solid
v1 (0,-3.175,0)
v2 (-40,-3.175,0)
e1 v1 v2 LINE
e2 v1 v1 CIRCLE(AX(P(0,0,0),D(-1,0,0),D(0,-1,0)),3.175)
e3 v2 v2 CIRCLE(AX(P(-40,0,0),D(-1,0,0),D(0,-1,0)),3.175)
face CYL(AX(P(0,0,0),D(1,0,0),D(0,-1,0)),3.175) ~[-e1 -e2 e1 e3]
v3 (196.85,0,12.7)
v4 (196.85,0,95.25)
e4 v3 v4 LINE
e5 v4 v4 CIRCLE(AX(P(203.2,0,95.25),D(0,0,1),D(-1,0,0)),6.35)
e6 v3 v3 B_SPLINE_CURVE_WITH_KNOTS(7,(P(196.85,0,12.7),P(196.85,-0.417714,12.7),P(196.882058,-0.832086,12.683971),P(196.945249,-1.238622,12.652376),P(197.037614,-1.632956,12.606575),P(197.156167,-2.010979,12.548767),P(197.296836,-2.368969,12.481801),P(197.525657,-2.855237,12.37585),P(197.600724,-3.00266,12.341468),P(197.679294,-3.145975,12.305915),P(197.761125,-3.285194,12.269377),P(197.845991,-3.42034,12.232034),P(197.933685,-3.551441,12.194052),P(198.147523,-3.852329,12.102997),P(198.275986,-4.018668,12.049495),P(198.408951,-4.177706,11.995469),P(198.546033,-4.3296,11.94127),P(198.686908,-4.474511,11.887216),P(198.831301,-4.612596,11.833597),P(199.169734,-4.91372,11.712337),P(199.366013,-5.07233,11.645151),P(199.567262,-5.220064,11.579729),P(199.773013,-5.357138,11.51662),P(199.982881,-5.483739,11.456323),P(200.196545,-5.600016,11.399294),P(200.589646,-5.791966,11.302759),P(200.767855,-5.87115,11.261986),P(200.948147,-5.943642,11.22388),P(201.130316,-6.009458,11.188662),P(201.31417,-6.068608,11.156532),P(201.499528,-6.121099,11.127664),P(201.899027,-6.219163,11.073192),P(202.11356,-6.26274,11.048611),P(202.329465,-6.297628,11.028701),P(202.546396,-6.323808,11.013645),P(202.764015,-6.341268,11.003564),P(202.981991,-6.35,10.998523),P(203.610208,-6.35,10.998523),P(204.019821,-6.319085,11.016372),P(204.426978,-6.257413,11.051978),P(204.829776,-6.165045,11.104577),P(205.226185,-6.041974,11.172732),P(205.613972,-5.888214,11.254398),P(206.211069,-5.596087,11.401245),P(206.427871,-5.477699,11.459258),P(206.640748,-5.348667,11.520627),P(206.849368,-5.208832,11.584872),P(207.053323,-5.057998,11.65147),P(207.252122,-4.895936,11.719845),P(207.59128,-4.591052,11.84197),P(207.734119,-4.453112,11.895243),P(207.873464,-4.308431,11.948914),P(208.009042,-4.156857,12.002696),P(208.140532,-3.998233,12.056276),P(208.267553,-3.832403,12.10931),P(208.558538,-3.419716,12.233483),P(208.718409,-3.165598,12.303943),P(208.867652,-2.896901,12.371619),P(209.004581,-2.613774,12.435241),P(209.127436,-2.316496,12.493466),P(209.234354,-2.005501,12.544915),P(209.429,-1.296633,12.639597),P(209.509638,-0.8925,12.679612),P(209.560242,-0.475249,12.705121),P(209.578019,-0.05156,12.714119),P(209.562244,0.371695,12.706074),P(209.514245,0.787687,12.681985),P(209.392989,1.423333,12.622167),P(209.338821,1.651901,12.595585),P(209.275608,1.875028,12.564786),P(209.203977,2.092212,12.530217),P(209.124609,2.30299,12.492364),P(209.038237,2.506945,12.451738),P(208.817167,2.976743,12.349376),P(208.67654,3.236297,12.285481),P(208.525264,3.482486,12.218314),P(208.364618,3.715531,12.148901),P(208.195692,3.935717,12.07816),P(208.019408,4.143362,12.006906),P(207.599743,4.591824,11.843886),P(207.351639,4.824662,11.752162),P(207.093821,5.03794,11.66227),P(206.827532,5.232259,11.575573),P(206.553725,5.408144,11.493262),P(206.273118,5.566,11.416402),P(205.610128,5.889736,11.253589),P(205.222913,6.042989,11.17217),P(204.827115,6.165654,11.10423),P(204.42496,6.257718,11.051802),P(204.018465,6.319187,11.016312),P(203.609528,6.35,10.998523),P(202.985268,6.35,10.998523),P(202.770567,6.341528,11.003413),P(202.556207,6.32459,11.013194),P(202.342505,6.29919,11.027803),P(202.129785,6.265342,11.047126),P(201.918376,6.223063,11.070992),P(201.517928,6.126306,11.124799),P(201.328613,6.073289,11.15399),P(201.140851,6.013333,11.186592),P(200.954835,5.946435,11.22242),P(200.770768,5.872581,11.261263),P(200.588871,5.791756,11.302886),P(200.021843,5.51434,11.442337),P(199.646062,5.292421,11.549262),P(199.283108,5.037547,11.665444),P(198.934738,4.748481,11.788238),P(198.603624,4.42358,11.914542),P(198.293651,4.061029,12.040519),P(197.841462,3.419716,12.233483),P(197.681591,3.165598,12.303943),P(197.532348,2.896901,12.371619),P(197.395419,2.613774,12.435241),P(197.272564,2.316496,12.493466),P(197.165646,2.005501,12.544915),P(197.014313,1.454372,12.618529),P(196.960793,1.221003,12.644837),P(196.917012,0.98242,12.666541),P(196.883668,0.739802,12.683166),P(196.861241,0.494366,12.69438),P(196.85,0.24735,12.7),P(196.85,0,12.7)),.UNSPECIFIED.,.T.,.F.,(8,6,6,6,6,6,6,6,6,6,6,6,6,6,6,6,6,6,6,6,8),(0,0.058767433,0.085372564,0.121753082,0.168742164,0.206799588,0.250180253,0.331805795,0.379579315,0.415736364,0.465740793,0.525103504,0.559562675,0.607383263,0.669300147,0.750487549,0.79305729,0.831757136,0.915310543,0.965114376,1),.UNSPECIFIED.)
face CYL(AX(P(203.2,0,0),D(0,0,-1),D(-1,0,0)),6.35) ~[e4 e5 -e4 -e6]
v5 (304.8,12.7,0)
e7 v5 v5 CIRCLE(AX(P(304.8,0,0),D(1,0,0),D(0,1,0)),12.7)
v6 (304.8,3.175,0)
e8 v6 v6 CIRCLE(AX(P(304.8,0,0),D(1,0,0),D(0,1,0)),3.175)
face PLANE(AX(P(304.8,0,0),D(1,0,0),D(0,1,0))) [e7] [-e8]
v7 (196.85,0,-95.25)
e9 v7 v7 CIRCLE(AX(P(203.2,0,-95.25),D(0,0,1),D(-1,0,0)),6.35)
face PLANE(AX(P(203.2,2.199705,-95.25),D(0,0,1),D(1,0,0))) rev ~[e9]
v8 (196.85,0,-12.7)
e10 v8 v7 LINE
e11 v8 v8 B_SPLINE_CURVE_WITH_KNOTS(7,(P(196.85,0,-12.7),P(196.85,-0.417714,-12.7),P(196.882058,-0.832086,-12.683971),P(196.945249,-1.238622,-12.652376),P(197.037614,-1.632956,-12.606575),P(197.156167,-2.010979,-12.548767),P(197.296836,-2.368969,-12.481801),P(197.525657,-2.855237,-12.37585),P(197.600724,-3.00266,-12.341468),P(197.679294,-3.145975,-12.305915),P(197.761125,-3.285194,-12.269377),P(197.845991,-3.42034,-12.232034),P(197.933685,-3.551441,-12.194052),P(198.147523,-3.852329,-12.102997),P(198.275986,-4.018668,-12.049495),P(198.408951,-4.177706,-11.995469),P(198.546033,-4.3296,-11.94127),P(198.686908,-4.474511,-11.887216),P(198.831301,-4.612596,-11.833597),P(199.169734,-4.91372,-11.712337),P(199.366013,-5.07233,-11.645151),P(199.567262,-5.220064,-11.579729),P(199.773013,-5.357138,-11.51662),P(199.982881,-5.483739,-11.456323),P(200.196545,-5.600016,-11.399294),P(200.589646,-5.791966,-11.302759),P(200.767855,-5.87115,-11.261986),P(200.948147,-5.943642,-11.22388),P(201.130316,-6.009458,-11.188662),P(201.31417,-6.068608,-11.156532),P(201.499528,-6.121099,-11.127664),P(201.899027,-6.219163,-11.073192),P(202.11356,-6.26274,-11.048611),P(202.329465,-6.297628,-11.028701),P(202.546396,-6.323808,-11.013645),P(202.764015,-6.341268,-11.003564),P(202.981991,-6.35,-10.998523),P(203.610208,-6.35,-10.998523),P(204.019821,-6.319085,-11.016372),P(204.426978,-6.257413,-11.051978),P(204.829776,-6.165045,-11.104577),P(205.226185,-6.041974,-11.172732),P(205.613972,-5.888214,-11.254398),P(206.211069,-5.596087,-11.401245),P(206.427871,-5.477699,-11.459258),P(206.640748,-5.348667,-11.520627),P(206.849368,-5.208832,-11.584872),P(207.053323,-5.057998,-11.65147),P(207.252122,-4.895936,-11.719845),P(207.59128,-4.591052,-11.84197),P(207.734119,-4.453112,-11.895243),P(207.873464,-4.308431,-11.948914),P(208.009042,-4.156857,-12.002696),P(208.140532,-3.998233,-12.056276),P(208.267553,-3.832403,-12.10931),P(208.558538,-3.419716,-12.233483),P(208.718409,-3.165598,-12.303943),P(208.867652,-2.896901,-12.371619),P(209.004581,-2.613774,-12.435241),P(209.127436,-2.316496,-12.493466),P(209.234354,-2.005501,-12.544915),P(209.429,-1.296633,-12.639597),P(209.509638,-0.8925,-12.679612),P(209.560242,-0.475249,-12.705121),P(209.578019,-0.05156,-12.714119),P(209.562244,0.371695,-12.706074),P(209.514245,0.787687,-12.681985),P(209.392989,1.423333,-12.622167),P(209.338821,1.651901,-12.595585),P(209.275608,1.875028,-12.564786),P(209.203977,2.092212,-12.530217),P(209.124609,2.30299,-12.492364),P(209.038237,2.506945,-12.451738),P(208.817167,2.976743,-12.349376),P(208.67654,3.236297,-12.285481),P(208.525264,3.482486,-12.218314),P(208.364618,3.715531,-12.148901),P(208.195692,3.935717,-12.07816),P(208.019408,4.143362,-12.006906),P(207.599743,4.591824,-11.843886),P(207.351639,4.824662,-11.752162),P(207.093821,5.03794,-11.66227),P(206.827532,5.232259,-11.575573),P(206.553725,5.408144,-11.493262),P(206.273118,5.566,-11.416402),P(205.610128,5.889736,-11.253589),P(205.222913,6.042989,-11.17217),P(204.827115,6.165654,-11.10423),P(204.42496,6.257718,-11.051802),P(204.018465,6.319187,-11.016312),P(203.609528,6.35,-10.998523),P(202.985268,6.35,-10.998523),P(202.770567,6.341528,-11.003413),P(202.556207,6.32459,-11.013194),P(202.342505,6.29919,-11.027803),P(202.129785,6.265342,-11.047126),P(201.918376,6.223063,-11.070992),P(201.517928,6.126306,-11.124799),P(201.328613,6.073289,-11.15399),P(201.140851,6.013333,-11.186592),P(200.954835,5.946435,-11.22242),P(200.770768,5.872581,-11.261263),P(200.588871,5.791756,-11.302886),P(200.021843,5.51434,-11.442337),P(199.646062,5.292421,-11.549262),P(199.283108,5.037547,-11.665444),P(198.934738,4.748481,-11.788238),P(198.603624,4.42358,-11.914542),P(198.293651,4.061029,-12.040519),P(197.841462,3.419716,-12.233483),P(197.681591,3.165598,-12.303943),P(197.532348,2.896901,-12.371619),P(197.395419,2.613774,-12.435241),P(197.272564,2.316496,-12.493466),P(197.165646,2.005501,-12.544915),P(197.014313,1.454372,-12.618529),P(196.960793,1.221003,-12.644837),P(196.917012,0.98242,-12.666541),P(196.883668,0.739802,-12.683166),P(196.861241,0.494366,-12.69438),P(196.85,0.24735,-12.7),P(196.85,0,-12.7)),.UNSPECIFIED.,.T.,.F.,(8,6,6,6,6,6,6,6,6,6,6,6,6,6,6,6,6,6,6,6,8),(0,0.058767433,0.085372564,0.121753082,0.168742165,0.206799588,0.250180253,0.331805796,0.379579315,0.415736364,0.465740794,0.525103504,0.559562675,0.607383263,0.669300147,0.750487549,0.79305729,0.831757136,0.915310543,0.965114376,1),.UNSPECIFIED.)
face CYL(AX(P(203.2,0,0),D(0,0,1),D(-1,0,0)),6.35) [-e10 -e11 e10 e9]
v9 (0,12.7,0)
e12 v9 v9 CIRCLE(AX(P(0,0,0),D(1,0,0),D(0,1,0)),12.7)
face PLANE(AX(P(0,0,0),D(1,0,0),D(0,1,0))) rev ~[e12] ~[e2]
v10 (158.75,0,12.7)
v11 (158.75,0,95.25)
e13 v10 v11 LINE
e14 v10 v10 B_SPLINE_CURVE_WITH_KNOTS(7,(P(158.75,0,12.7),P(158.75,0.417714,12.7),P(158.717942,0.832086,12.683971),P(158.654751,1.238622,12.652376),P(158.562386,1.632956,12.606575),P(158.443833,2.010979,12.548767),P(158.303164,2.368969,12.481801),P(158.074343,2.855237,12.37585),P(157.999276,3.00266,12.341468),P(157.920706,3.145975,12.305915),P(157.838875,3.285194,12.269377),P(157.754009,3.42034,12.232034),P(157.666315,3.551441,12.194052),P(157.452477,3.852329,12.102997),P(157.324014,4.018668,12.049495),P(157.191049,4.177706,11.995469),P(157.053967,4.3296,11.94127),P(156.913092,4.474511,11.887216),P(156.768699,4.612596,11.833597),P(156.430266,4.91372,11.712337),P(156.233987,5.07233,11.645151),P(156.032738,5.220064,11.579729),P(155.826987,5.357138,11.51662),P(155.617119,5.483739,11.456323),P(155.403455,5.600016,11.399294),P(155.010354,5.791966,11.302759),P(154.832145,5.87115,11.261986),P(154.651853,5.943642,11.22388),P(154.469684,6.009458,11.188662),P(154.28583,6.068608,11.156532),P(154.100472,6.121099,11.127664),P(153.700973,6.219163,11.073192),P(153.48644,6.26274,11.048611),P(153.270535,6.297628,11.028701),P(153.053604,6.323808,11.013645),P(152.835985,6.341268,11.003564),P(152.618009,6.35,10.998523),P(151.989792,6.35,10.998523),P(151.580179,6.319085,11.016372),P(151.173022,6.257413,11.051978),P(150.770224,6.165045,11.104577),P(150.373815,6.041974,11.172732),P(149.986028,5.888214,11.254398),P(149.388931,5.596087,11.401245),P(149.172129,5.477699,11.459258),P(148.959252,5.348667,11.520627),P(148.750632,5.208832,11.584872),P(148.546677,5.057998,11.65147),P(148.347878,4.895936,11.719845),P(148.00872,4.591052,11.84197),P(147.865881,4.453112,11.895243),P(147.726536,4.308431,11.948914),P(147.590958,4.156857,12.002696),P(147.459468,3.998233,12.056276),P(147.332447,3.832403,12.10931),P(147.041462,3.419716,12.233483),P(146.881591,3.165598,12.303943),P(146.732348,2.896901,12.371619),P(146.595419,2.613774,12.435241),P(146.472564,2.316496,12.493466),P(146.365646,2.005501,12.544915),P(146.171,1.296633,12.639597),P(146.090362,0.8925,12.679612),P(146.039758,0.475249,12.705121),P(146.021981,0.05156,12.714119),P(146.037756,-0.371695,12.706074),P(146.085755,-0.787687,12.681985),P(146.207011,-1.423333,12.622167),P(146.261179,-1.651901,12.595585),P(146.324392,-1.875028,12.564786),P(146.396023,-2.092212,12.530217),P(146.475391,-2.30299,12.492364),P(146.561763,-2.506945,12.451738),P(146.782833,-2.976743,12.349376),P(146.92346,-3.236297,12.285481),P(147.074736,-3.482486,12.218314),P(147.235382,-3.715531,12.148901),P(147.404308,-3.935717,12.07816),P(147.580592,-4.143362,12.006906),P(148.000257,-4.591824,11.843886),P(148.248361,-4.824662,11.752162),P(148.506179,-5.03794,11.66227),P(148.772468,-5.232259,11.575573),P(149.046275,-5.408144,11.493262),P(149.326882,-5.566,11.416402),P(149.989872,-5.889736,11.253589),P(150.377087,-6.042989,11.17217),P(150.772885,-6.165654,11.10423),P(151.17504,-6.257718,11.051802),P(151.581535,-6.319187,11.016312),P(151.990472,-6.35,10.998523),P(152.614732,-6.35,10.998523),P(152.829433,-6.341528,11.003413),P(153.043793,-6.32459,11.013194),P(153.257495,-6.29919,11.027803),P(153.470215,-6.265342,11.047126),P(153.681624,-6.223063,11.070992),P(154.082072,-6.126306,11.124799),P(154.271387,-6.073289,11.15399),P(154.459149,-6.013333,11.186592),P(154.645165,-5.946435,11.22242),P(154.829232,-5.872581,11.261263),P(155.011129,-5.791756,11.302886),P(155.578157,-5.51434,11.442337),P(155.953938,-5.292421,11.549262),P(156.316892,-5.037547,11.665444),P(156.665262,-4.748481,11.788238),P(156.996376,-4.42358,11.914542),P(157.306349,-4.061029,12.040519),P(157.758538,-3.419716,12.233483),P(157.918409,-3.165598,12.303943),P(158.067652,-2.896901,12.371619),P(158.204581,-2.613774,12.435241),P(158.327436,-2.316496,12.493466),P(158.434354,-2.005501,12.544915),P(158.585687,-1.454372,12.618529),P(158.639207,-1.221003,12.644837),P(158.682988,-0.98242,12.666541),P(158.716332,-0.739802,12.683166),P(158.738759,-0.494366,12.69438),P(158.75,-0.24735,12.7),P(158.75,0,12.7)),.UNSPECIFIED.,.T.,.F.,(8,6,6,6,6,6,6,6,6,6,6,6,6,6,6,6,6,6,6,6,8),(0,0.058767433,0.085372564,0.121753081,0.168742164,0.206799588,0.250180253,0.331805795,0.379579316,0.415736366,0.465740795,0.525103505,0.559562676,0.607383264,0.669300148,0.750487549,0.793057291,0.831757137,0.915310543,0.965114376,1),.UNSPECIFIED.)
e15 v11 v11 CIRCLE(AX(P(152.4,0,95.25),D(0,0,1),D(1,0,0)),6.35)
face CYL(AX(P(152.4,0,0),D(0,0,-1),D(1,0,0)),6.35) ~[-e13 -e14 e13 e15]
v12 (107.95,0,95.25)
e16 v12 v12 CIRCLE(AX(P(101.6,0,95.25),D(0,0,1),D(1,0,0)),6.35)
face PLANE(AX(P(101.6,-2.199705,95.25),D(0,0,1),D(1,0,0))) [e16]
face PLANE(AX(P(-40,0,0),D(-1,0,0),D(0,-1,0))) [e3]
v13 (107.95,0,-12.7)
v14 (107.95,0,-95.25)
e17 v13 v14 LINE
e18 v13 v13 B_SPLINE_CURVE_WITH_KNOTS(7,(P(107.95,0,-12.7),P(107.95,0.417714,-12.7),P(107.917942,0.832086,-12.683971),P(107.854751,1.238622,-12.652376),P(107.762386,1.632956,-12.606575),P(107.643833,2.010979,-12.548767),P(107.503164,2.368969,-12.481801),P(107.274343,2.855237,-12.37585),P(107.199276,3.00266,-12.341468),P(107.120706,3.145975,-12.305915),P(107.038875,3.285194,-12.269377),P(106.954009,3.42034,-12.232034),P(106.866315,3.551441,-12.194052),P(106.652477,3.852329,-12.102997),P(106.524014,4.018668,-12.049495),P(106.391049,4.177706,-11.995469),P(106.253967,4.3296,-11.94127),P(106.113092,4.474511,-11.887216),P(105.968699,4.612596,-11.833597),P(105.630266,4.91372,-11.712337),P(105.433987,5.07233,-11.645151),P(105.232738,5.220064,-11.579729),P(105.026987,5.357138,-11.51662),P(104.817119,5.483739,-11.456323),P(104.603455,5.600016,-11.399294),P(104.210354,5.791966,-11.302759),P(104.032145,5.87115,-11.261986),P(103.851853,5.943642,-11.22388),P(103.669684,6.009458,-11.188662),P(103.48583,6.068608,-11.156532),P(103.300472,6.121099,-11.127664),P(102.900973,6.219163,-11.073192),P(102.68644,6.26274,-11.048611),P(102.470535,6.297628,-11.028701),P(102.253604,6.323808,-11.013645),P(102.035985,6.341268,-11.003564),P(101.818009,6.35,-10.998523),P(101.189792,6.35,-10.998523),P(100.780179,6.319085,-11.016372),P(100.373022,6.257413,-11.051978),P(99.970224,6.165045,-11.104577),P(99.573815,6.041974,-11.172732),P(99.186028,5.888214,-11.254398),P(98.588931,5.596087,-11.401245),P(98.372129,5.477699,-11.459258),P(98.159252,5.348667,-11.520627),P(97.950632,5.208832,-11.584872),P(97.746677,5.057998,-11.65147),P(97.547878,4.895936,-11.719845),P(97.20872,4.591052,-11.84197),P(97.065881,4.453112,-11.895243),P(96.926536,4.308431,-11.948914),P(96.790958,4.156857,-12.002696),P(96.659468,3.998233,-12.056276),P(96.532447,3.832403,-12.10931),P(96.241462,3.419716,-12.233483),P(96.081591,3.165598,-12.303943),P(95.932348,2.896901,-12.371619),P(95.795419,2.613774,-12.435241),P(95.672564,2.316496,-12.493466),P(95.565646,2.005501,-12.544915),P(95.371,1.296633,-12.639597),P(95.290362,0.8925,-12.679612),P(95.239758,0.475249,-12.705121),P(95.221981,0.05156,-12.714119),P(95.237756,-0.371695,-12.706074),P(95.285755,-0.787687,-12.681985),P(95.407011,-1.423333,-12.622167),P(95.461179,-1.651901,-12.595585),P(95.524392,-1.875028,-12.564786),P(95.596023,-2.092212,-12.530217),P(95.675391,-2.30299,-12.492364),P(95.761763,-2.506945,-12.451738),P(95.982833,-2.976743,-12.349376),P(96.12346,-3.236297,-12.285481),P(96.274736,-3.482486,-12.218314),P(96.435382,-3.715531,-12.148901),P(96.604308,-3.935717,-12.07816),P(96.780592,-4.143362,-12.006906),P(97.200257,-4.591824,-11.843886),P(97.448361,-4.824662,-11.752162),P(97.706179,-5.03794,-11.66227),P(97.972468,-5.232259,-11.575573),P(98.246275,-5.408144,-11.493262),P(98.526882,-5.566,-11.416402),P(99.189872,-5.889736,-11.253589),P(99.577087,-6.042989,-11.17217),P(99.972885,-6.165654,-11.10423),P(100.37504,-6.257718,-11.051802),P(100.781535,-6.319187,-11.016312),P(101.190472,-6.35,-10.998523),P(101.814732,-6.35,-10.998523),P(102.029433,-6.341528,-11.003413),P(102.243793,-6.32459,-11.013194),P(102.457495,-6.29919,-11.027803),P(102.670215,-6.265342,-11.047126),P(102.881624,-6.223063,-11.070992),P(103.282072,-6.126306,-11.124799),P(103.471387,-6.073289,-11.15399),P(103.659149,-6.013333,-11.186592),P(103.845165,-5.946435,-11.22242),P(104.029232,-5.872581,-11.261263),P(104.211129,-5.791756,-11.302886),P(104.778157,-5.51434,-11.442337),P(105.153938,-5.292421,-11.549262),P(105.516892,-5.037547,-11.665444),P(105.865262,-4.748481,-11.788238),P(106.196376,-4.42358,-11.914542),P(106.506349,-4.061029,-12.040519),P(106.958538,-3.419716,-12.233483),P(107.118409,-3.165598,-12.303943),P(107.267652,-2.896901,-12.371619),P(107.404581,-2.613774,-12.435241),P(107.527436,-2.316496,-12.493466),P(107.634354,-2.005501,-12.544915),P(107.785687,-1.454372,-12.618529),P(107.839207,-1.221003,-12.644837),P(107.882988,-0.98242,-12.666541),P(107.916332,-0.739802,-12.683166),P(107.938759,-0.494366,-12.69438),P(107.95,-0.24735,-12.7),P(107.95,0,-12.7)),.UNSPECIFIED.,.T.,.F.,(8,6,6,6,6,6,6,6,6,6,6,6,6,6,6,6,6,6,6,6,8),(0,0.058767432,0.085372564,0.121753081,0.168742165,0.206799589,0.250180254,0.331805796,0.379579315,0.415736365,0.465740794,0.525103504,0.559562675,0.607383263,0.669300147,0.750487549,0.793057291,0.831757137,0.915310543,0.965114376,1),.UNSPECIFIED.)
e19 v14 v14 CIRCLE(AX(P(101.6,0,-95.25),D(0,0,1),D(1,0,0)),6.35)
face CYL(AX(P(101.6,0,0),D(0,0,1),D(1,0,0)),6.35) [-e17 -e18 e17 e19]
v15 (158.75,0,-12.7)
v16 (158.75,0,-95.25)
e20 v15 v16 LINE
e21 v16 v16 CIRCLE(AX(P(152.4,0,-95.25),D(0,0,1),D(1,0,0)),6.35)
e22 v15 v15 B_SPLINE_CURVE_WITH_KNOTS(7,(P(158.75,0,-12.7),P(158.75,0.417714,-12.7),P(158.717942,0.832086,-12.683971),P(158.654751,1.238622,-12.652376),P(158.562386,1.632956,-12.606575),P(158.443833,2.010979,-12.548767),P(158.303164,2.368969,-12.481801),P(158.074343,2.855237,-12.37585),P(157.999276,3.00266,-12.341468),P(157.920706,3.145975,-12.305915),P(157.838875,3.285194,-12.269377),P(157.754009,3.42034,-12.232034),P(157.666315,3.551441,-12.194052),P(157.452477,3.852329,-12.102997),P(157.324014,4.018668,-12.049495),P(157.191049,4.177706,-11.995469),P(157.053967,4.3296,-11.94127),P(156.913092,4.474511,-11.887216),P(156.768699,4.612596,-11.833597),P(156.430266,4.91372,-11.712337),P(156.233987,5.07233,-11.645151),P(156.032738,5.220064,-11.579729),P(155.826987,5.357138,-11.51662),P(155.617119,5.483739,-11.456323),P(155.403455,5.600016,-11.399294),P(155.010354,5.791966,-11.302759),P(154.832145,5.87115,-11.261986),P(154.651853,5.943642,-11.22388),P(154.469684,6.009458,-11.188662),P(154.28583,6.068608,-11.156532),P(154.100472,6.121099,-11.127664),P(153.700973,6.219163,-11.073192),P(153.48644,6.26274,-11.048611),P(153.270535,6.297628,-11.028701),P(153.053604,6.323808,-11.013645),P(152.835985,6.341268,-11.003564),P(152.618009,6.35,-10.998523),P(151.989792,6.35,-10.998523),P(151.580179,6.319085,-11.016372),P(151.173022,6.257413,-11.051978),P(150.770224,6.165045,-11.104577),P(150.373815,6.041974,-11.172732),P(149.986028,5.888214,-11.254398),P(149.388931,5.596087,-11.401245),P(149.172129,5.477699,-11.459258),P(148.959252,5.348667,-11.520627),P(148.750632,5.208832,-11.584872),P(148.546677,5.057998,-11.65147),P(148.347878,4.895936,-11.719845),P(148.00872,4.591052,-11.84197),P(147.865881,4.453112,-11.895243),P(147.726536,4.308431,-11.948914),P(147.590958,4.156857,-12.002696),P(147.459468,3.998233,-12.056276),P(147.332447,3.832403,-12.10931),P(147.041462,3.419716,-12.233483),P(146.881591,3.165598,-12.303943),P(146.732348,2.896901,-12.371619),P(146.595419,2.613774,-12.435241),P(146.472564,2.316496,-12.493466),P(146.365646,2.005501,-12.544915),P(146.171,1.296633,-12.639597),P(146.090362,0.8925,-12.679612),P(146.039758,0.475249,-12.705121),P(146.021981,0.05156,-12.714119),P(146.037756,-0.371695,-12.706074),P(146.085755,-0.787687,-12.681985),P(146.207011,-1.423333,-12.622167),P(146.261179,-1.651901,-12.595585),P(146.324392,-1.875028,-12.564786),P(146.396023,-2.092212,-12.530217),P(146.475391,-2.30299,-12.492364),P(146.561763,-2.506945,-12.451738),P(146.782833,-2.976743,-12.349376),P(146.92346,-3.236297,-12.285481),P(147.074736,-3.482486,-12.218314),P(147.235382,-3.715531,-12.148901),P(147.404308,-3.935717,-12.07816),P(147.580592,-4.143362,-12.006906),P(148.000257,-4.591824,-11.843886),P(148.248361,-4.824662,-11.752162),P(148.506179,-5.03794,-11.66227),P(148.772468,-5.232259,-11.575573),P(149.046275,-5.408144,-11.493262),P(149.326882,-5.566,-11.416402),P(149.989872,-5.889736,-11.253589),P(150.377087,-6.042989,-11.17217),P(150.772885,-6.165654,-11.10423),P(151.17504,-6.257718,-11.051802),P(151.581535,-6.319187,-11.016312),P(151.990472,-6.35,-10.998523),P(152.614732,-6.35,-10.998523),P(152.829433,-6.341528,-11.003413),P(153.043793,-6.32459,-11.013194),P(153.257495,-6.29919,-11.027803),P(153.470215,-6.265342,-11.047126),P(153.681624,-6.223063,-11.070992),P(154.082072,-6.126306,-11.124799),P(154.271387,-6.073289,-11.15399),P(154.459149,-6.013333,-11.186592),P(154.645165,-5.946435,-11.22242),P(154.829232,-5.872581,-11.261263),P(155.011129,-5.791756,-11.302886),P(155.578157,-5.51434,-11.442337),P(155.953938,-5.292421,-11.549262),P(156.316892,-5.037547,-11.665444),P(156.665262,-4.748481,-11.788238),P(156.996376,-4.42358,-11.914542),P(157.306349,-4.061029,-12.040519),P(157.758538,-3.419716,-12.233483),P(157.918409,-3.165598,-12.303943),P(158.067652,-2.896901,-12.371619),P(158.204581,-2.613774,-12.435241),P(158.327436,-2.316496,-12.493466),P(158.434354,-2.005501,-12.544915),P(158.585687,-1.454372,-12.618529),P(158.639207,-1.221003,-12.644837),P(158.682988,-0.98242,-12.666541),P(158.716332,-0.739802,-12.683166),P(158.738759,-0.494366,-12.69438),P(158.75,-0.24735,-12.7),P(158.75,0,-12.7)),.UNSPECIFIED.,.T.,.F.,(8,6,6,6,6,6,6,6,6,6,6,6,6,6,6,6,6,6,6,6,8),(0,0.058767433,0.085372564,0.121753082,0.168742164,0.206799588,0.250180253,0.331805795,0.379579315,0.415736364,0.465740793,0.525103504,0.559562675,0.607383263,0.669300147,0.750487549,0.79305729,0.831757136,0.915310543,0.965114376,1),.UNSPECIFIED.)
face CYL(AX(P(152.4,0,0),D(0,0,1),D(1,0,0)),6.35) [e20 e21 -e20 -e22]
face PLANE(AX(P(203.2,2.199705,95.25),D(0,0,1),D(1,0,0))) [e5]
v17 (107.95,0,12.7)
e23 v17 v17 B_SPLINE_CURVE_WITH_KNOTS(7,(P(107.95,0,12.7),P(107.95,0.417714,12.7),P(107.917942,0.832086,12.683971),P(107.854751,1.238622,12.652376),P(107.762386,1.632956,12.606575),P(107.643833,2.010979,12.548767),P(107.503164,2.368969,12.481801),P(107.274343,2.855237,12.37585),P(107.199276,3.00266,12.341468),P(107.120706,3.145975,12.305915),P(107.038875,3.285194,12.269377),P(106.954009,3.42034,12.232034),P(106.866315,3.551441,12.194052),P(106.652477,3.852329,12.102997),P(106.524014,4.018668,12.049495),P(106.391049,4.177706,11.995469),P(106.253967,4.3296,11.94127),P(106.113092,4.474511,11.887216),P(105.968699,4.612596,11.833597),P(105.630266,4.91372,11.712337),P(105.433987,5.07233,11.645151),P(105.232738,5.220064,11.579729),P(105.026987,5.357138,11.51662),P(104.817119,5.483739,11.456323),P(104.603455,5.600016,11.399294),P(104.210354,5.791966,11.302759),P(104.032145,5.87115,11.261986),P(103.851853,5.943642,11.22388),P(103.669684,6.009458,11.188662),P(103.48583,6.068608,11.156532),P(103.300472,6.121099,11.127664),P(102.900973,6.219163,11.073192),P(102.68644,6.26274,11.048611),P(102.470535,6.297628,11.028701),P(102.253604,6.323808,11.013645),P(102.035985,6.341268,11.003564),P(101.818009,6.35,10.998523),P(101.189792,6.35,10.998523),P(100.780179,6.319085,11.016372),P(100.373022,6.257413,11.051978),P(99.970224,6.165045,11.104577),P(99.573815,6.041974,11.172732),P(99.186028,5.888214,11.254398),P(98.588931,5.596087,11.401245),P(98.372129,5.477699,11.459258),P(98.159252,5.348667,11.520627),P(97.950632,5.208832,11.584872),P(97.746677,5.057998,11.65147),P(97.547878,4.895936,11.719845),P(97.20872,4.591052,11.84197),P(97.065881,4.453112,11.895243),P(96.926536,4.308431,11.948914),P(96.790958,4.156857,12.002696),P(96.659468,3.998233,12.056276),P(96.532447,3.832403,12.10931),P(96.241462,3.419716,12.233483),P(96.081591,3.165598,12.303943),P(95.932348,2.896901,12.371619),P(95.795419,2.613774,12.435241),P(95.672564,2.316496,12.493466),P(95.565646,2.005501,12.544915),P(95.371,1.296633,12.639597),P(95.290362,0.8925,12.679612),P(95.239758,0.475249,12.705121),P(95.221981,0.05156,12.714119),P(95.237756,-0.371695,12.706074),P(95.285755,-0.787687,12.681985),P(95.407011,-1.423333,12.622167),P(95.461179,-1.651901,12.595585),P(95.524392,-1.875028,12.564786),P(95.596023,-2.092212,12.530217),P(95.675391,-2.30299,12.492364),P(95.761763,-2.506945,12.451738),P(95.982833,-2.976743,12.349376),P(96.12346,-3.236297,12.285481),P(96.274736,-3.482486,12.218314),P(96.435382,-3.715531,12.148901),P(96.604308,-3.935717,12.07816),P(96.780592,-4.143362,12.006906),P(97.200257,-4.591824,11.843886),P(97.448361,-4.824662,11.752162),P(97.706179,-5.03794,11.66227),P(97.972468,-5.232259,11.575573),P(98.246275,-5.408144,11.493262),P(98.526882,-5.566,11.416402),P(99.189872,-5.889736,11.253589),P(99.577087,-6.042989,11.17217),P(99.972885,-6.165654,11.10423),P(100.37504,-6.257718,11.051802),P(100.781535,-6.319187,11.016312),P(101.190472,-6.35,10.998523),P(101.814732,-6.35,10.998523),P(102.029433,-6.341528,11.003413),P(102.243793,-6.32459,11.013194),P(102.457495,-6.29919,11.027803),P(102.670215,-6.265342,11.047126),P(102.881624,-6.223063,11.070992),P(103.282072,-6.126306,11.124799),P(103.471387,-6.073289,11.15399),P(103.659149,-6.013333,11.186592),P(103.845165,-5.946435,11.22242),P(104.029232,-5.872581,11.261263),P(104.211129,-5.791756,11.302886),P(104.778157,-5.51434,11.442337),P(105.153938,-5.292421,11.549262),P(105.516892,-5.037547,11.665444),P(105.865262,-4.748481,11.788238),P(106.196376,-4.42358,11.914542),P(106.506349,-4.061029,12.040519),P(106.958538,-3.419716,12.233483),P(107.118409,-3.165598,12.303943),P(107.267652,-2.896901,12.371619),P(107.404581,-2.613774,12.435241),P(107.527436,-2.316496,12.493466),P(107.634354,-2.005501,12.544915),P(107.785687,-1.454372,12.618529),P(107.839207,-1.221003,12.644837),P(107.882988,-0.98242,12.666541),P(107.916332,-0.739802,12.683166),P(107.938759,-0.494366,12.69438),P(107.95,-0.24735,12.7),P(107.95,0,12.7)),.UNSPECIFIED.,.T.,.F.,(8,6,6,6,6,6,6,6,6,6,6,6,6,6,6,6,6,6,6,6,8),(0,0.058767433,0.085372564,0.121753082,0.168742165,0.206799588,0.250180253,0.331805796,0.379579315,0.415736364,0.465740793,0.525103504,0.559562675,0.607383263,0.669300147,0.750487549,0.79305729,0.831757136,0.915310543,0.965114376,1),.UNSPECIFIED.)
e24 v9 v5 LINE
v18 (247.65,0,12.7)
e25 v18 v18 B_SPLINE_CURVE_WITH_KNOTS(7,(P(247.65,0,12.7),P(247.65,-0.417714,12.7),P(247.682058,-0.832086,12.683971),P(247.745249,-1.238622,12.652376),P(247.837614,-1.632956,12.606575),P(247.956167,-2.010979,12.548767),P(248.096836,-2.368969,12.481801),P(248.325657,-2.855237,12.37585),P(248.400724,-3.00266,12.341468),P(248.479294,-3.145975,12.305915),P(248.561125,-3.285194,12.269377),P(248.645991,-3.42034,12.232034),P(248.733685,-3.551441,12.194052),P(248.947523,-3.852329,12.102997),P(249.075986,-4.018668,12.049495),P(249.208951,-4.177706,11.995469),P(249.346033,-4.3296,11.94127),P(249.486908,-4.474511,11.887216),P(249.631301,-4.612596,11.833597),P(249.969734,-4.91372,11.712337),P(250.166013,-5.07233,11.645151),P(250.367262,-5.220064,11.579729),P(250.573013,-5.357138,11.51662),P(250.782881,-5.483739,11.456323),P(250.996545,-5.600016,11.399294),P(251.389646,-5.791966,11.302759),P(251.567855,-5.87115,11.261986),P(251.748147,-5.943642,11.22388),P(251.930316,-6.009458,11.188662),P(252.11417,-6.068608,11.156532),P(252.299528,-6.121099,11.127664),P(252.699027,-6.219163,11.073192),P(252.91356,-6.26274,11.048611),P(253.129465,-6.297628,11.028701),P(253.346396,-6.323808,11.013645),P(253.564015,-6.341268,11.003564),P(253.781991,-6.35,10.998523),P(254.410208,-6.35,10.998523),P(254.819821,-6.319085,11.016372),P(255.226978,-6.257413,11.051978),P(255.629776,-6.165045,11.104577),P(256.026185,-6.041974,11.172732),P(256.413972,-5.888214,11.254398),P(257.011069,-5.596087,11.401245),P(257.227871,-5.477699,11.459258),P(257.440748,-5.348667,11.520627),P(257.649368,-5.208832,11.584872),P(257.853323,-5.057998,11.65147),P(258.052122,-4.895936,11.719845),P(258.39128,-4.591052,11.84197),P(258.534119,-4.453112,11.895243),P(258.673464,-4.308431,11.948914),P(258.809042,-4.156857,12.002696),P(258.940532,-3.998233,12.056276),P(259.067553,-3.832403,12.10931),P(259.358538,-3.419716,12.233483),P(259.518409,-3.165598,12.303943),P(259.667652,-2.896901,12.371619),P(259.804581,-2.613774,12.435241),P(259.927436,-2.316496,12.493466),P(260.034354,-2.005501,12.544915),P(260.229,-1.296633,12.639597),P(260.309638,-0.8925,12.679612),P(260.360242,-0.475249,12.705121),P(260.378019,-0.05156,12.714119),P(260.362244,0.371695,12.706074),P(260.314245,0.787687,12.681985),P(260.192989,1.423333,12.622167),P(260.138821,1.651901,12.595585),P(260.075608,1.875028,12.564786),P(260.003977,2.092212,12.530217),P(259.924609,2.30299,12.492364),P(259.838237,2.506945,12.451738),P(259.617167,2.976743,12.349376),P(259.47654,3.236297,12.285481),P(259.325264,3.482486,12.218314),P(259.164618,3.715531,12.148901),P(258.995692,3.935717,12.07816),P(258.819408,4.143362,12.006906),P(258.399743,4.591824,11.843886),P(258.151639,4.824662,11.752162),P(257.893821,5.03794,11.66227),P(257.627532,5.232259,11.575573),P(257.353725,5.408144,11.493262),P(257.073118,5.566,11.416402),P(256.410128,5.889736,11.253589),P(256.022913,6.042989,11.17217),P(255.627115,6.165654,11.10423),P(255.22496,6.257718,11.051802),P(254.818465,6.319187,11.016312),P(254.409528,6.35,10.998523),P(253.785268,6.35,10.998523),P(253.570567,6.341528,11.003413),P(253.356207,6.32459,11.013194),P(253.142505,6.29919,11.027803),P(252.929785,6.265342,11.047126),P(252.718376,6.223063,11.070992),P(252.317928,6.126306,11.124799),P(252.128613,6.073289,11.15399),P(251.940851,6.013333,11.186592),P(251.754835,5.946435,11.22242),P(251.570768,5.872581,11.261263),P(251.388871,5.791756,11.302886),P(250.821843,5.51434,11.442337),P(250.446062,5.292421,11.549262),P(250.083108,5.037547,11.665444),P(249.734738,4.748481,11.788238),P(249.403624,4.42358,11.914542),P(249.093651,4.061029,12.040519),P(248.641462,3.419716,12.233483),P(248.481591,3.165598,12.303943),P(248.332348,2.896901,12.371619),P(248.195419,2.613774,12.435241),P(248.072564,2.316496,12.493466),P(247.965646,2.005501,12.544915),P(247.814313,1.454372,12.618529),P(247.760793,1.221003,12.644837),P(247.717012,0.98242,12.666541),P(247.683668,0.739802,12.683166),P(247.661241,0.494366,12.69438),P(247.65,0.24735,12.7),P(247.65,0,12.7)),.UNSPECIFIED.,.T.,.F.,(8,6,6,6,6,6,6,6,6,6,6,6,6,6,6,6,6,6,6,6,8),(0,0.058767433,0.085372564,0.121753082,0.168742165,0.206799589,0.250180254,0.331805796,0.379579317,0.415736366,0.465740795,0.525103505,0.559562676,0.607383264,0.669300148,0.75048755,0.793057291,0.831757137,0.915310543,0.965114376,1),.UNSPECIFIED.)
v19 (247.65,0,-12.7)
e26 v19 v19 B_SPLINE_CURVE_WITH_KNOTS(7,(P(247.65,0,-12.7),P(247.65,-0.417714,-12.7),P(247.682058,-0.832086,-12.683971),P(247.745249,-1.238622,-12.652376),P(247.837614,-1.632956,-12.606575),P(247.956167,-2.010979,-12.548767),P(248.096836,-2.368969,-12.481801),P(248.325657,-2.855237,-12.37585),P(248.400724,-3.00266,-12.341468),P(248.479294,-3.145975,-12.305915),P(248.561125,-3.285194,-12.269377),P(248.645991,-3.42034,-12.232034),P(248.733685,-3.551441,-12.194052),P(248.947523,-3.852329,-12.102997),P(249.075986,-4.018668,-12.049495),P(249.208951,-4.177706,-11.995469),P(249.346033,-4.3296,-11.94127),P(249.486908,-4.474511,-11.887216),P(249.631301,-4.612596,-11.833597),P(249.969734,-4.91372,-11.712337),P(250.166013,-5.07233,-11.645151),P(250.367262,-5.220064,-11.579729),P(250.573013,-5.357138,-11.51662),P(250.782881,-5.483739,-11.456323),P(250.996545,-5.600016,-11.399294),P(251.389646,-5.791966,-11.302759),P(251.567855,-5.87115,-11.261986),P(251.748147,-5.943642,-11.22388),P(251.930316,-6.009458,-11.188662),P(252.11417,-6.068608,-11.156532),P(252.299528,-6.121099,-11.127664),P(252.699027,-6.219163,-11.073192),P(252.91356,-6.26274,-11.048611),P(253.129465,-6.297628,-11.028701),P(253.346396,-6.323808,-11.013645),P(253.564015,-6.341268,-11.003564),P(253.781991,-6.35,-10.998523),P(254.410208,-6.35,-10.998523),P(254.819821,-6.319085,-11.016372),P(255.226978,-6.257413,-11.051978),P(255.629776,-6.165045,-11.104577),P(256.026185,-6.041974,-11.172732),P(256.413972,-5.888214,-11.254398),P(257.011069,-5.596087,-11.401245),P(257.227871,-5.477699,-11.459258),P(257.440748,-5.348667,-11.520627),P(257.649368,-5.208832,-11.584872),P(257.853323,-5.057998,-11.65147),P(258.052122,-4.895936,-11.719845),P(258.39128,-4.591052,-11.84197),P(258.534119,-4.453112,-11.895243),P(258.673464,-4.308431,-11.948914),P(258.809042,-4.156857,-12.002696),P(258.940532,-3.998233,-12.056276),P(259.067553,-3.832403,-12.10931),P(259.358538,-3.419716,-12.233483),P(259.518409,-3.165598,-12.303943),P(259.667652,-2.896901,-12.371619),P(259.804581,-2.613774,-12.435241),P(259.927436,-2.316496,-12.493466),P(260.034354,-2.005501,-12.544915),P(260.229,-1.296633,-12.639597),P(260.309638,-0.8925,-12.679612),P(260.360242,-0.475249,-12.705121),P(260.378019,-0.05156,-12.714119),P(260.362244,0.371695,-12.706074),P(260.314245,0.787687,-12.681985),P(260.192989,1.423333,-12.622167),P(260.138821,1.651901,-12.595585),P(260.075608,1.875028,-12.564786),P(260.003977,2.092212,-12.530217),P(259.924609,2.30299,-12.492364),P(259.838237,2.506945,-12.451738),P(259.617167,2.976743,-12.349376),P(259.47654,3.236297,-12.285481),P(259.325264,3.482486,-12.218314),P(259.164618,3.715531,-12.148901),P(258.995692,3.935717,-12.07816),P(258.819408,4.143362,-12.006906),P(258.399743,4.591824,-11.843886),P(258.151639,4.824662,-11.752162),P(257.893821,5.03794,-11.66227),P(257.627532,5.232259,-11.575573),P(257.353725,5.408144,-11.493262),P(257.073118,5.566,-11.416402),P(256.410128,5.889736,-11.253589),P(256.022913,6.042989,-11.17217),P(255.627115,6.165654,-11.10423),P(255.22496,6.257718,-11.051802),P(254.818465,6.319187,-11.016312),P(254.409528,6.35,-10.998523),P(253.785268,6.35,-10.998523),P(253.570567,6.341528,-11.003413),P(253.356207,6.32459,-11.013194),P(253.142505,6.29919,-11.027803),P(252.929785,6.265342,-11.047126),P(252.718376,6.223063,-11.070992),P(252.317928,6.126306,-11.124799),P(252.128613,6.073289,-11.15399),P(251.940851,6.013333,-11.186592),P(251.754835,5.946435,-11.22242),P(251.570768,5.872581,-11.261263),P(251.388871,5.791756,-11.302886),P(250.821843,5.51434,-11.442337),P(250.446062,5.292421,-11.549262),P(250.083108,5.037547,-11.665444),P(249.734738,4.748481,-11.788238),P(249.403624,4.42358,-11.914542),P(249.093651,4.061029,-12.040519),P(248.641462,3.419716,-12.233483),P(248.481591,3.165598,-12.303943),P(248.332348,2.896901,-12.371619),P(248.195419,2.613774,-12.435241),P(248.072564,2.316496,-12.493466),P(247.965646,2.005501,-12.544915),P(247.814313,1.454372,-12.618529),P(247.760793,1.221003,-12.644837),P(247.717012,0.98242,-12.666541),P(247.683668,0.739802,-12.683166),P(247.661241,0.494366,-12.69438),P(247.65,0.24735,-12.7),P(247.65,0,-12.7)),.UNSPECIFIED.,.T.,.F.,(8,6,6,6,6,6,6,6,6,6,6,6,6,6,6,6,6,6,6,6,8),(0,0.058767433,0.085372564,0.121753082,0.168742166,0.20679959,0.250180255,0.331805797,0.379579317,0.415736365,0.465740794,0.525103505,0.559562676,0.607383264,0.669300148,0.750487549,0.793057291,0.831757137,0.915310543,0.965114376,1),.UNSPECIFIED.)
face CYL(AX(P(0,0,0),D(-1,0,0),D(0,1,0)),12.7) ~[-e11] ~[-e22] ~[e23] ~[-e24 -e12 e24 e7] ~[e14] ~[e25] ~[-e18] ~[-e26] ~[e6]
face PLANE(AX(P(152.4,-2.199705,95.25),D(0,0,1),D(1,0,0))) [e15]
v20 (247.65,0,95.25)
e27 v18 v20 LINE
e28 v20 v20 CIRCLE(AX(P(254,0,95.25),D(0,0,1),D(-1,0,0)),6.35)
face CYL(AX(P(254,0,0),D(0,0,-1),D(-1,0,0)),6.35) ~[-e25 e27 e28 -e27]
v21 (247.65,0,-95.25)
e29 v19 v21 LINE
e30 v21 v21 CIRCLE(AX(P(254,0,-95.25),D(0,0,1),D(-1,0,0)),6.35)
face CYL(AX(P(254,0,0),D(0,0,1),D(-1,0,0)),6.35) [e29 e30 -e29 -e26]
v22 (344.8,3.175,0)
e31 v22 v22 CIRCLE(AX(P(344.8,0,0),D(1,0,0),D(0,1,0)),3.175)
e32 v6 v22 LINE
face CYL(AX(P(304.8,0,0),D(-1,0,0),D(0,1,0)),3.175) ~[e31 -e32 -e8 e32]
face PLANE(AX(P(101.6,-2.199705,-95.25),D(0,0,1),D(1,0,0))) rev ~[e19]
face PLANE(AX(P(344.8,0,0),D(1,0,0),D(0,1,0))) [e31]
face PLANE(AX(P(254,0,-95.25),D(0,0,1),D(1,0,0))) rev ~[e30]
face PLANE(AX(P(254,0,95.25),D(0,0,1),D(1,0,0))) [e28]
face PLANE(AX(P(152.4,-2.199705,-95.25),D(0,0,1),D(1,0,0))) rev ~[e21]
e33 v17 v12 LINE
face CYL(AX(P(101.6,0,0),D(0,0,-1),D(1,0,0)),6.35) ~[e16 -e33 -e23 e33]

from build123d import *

# Parameters (mm, degrees)
F0_R          = 12.7
F1_DEPTH      = 304.8
F2_R          = 3.175
F3_DEPTH      = 40
F4_R          = 3.175
F5_DEPTH      = 40
F7_DEPTH      = 95.25
F7_DEPTH_BACK = 95.25


with BuildPart() as f1:
    # F0 (on Right) → F1 (new body)
    with BuildSketch(Plane.YZ):
        Circle(F0_R)
    extrude(amount=F1_DEPTH)

    # F2 (on face) → F3 (join)
    with BuildSketch(Plane(origin=(0, 0, 0), x_dir=(0, -1, 0), z_dir=(-1, 0, 0))):
        Circle(F2_R)
    extrude(amount=F3_DEPTH)

    # F4 (on face) → F5 (join)
    with BuildSketch(Plane.YZ.offset(304.8)):
        Circle(F4_R)
    extrude(amount=F5_DEPTH)

    # F6 (on Top) → F7 (join, two sides)
    with BuildSketch(Plane.XY) as f7_sk:
        with BuildLine():
            Line((203.2, 0), (209.55, 0))
            ThreePointArc((209.55, 0), (203.2, 6.35), (196.85, 0))
            Line((196.85, 0), (203.2, 0))
        make_face()
        with BuildLine():
            ThreePointArc((95.25, 0), (101.6, -6.35), (107.95, 0))
            Line((107.95, 0), (101.6, 0))
            Line((101.6, 0), (95.25, 0))
        make_face()
        with BuildLine():
            Line((101.6, 0), (107.95, 0))
            ThreePointArc((107.95, 0), (101.6, 6.35), (95.25, 0))
            Line((95.25, 0), (101.6, 0))
        make_face()
        with BuildLine():
            ThreePointArc((146.05, 0), (152.4, -6.35), (158.75, 0))
            Line((158.75, 0), (152.4, 0))
            Line((152.4, 0), (146.05, 0))
        make_face()
        with BuildLine():
            Line((152.4, 0), (158.75, 0))
            ThreePointArc((158.75, 0), (152.4, 6.35), (146.05, 0))
            Line((146.05, 0), (152.4, 0))
        make_face()
        with BuildLine():
            ThreePointArc((196.85, 0), (203.2, -6.35), (209.55, 0))
            Line((209.55, 0), (203.2, 0))
            Line((203.2, 0), (196.85, 0))
        make_face()
        with BuildLine():
            ThreePointArc((260.35, 0), (254, 6.35), (247.65, 0))
            ThreePointArc((247.65, 0), (254, -6.35), (260.35, 0))
        make_face()
    extrude(amount=F7_DEPTH)
    extrude(f7_sk.sketch, amount=-F7_DEPTH_BACK)


solid = f1.part
